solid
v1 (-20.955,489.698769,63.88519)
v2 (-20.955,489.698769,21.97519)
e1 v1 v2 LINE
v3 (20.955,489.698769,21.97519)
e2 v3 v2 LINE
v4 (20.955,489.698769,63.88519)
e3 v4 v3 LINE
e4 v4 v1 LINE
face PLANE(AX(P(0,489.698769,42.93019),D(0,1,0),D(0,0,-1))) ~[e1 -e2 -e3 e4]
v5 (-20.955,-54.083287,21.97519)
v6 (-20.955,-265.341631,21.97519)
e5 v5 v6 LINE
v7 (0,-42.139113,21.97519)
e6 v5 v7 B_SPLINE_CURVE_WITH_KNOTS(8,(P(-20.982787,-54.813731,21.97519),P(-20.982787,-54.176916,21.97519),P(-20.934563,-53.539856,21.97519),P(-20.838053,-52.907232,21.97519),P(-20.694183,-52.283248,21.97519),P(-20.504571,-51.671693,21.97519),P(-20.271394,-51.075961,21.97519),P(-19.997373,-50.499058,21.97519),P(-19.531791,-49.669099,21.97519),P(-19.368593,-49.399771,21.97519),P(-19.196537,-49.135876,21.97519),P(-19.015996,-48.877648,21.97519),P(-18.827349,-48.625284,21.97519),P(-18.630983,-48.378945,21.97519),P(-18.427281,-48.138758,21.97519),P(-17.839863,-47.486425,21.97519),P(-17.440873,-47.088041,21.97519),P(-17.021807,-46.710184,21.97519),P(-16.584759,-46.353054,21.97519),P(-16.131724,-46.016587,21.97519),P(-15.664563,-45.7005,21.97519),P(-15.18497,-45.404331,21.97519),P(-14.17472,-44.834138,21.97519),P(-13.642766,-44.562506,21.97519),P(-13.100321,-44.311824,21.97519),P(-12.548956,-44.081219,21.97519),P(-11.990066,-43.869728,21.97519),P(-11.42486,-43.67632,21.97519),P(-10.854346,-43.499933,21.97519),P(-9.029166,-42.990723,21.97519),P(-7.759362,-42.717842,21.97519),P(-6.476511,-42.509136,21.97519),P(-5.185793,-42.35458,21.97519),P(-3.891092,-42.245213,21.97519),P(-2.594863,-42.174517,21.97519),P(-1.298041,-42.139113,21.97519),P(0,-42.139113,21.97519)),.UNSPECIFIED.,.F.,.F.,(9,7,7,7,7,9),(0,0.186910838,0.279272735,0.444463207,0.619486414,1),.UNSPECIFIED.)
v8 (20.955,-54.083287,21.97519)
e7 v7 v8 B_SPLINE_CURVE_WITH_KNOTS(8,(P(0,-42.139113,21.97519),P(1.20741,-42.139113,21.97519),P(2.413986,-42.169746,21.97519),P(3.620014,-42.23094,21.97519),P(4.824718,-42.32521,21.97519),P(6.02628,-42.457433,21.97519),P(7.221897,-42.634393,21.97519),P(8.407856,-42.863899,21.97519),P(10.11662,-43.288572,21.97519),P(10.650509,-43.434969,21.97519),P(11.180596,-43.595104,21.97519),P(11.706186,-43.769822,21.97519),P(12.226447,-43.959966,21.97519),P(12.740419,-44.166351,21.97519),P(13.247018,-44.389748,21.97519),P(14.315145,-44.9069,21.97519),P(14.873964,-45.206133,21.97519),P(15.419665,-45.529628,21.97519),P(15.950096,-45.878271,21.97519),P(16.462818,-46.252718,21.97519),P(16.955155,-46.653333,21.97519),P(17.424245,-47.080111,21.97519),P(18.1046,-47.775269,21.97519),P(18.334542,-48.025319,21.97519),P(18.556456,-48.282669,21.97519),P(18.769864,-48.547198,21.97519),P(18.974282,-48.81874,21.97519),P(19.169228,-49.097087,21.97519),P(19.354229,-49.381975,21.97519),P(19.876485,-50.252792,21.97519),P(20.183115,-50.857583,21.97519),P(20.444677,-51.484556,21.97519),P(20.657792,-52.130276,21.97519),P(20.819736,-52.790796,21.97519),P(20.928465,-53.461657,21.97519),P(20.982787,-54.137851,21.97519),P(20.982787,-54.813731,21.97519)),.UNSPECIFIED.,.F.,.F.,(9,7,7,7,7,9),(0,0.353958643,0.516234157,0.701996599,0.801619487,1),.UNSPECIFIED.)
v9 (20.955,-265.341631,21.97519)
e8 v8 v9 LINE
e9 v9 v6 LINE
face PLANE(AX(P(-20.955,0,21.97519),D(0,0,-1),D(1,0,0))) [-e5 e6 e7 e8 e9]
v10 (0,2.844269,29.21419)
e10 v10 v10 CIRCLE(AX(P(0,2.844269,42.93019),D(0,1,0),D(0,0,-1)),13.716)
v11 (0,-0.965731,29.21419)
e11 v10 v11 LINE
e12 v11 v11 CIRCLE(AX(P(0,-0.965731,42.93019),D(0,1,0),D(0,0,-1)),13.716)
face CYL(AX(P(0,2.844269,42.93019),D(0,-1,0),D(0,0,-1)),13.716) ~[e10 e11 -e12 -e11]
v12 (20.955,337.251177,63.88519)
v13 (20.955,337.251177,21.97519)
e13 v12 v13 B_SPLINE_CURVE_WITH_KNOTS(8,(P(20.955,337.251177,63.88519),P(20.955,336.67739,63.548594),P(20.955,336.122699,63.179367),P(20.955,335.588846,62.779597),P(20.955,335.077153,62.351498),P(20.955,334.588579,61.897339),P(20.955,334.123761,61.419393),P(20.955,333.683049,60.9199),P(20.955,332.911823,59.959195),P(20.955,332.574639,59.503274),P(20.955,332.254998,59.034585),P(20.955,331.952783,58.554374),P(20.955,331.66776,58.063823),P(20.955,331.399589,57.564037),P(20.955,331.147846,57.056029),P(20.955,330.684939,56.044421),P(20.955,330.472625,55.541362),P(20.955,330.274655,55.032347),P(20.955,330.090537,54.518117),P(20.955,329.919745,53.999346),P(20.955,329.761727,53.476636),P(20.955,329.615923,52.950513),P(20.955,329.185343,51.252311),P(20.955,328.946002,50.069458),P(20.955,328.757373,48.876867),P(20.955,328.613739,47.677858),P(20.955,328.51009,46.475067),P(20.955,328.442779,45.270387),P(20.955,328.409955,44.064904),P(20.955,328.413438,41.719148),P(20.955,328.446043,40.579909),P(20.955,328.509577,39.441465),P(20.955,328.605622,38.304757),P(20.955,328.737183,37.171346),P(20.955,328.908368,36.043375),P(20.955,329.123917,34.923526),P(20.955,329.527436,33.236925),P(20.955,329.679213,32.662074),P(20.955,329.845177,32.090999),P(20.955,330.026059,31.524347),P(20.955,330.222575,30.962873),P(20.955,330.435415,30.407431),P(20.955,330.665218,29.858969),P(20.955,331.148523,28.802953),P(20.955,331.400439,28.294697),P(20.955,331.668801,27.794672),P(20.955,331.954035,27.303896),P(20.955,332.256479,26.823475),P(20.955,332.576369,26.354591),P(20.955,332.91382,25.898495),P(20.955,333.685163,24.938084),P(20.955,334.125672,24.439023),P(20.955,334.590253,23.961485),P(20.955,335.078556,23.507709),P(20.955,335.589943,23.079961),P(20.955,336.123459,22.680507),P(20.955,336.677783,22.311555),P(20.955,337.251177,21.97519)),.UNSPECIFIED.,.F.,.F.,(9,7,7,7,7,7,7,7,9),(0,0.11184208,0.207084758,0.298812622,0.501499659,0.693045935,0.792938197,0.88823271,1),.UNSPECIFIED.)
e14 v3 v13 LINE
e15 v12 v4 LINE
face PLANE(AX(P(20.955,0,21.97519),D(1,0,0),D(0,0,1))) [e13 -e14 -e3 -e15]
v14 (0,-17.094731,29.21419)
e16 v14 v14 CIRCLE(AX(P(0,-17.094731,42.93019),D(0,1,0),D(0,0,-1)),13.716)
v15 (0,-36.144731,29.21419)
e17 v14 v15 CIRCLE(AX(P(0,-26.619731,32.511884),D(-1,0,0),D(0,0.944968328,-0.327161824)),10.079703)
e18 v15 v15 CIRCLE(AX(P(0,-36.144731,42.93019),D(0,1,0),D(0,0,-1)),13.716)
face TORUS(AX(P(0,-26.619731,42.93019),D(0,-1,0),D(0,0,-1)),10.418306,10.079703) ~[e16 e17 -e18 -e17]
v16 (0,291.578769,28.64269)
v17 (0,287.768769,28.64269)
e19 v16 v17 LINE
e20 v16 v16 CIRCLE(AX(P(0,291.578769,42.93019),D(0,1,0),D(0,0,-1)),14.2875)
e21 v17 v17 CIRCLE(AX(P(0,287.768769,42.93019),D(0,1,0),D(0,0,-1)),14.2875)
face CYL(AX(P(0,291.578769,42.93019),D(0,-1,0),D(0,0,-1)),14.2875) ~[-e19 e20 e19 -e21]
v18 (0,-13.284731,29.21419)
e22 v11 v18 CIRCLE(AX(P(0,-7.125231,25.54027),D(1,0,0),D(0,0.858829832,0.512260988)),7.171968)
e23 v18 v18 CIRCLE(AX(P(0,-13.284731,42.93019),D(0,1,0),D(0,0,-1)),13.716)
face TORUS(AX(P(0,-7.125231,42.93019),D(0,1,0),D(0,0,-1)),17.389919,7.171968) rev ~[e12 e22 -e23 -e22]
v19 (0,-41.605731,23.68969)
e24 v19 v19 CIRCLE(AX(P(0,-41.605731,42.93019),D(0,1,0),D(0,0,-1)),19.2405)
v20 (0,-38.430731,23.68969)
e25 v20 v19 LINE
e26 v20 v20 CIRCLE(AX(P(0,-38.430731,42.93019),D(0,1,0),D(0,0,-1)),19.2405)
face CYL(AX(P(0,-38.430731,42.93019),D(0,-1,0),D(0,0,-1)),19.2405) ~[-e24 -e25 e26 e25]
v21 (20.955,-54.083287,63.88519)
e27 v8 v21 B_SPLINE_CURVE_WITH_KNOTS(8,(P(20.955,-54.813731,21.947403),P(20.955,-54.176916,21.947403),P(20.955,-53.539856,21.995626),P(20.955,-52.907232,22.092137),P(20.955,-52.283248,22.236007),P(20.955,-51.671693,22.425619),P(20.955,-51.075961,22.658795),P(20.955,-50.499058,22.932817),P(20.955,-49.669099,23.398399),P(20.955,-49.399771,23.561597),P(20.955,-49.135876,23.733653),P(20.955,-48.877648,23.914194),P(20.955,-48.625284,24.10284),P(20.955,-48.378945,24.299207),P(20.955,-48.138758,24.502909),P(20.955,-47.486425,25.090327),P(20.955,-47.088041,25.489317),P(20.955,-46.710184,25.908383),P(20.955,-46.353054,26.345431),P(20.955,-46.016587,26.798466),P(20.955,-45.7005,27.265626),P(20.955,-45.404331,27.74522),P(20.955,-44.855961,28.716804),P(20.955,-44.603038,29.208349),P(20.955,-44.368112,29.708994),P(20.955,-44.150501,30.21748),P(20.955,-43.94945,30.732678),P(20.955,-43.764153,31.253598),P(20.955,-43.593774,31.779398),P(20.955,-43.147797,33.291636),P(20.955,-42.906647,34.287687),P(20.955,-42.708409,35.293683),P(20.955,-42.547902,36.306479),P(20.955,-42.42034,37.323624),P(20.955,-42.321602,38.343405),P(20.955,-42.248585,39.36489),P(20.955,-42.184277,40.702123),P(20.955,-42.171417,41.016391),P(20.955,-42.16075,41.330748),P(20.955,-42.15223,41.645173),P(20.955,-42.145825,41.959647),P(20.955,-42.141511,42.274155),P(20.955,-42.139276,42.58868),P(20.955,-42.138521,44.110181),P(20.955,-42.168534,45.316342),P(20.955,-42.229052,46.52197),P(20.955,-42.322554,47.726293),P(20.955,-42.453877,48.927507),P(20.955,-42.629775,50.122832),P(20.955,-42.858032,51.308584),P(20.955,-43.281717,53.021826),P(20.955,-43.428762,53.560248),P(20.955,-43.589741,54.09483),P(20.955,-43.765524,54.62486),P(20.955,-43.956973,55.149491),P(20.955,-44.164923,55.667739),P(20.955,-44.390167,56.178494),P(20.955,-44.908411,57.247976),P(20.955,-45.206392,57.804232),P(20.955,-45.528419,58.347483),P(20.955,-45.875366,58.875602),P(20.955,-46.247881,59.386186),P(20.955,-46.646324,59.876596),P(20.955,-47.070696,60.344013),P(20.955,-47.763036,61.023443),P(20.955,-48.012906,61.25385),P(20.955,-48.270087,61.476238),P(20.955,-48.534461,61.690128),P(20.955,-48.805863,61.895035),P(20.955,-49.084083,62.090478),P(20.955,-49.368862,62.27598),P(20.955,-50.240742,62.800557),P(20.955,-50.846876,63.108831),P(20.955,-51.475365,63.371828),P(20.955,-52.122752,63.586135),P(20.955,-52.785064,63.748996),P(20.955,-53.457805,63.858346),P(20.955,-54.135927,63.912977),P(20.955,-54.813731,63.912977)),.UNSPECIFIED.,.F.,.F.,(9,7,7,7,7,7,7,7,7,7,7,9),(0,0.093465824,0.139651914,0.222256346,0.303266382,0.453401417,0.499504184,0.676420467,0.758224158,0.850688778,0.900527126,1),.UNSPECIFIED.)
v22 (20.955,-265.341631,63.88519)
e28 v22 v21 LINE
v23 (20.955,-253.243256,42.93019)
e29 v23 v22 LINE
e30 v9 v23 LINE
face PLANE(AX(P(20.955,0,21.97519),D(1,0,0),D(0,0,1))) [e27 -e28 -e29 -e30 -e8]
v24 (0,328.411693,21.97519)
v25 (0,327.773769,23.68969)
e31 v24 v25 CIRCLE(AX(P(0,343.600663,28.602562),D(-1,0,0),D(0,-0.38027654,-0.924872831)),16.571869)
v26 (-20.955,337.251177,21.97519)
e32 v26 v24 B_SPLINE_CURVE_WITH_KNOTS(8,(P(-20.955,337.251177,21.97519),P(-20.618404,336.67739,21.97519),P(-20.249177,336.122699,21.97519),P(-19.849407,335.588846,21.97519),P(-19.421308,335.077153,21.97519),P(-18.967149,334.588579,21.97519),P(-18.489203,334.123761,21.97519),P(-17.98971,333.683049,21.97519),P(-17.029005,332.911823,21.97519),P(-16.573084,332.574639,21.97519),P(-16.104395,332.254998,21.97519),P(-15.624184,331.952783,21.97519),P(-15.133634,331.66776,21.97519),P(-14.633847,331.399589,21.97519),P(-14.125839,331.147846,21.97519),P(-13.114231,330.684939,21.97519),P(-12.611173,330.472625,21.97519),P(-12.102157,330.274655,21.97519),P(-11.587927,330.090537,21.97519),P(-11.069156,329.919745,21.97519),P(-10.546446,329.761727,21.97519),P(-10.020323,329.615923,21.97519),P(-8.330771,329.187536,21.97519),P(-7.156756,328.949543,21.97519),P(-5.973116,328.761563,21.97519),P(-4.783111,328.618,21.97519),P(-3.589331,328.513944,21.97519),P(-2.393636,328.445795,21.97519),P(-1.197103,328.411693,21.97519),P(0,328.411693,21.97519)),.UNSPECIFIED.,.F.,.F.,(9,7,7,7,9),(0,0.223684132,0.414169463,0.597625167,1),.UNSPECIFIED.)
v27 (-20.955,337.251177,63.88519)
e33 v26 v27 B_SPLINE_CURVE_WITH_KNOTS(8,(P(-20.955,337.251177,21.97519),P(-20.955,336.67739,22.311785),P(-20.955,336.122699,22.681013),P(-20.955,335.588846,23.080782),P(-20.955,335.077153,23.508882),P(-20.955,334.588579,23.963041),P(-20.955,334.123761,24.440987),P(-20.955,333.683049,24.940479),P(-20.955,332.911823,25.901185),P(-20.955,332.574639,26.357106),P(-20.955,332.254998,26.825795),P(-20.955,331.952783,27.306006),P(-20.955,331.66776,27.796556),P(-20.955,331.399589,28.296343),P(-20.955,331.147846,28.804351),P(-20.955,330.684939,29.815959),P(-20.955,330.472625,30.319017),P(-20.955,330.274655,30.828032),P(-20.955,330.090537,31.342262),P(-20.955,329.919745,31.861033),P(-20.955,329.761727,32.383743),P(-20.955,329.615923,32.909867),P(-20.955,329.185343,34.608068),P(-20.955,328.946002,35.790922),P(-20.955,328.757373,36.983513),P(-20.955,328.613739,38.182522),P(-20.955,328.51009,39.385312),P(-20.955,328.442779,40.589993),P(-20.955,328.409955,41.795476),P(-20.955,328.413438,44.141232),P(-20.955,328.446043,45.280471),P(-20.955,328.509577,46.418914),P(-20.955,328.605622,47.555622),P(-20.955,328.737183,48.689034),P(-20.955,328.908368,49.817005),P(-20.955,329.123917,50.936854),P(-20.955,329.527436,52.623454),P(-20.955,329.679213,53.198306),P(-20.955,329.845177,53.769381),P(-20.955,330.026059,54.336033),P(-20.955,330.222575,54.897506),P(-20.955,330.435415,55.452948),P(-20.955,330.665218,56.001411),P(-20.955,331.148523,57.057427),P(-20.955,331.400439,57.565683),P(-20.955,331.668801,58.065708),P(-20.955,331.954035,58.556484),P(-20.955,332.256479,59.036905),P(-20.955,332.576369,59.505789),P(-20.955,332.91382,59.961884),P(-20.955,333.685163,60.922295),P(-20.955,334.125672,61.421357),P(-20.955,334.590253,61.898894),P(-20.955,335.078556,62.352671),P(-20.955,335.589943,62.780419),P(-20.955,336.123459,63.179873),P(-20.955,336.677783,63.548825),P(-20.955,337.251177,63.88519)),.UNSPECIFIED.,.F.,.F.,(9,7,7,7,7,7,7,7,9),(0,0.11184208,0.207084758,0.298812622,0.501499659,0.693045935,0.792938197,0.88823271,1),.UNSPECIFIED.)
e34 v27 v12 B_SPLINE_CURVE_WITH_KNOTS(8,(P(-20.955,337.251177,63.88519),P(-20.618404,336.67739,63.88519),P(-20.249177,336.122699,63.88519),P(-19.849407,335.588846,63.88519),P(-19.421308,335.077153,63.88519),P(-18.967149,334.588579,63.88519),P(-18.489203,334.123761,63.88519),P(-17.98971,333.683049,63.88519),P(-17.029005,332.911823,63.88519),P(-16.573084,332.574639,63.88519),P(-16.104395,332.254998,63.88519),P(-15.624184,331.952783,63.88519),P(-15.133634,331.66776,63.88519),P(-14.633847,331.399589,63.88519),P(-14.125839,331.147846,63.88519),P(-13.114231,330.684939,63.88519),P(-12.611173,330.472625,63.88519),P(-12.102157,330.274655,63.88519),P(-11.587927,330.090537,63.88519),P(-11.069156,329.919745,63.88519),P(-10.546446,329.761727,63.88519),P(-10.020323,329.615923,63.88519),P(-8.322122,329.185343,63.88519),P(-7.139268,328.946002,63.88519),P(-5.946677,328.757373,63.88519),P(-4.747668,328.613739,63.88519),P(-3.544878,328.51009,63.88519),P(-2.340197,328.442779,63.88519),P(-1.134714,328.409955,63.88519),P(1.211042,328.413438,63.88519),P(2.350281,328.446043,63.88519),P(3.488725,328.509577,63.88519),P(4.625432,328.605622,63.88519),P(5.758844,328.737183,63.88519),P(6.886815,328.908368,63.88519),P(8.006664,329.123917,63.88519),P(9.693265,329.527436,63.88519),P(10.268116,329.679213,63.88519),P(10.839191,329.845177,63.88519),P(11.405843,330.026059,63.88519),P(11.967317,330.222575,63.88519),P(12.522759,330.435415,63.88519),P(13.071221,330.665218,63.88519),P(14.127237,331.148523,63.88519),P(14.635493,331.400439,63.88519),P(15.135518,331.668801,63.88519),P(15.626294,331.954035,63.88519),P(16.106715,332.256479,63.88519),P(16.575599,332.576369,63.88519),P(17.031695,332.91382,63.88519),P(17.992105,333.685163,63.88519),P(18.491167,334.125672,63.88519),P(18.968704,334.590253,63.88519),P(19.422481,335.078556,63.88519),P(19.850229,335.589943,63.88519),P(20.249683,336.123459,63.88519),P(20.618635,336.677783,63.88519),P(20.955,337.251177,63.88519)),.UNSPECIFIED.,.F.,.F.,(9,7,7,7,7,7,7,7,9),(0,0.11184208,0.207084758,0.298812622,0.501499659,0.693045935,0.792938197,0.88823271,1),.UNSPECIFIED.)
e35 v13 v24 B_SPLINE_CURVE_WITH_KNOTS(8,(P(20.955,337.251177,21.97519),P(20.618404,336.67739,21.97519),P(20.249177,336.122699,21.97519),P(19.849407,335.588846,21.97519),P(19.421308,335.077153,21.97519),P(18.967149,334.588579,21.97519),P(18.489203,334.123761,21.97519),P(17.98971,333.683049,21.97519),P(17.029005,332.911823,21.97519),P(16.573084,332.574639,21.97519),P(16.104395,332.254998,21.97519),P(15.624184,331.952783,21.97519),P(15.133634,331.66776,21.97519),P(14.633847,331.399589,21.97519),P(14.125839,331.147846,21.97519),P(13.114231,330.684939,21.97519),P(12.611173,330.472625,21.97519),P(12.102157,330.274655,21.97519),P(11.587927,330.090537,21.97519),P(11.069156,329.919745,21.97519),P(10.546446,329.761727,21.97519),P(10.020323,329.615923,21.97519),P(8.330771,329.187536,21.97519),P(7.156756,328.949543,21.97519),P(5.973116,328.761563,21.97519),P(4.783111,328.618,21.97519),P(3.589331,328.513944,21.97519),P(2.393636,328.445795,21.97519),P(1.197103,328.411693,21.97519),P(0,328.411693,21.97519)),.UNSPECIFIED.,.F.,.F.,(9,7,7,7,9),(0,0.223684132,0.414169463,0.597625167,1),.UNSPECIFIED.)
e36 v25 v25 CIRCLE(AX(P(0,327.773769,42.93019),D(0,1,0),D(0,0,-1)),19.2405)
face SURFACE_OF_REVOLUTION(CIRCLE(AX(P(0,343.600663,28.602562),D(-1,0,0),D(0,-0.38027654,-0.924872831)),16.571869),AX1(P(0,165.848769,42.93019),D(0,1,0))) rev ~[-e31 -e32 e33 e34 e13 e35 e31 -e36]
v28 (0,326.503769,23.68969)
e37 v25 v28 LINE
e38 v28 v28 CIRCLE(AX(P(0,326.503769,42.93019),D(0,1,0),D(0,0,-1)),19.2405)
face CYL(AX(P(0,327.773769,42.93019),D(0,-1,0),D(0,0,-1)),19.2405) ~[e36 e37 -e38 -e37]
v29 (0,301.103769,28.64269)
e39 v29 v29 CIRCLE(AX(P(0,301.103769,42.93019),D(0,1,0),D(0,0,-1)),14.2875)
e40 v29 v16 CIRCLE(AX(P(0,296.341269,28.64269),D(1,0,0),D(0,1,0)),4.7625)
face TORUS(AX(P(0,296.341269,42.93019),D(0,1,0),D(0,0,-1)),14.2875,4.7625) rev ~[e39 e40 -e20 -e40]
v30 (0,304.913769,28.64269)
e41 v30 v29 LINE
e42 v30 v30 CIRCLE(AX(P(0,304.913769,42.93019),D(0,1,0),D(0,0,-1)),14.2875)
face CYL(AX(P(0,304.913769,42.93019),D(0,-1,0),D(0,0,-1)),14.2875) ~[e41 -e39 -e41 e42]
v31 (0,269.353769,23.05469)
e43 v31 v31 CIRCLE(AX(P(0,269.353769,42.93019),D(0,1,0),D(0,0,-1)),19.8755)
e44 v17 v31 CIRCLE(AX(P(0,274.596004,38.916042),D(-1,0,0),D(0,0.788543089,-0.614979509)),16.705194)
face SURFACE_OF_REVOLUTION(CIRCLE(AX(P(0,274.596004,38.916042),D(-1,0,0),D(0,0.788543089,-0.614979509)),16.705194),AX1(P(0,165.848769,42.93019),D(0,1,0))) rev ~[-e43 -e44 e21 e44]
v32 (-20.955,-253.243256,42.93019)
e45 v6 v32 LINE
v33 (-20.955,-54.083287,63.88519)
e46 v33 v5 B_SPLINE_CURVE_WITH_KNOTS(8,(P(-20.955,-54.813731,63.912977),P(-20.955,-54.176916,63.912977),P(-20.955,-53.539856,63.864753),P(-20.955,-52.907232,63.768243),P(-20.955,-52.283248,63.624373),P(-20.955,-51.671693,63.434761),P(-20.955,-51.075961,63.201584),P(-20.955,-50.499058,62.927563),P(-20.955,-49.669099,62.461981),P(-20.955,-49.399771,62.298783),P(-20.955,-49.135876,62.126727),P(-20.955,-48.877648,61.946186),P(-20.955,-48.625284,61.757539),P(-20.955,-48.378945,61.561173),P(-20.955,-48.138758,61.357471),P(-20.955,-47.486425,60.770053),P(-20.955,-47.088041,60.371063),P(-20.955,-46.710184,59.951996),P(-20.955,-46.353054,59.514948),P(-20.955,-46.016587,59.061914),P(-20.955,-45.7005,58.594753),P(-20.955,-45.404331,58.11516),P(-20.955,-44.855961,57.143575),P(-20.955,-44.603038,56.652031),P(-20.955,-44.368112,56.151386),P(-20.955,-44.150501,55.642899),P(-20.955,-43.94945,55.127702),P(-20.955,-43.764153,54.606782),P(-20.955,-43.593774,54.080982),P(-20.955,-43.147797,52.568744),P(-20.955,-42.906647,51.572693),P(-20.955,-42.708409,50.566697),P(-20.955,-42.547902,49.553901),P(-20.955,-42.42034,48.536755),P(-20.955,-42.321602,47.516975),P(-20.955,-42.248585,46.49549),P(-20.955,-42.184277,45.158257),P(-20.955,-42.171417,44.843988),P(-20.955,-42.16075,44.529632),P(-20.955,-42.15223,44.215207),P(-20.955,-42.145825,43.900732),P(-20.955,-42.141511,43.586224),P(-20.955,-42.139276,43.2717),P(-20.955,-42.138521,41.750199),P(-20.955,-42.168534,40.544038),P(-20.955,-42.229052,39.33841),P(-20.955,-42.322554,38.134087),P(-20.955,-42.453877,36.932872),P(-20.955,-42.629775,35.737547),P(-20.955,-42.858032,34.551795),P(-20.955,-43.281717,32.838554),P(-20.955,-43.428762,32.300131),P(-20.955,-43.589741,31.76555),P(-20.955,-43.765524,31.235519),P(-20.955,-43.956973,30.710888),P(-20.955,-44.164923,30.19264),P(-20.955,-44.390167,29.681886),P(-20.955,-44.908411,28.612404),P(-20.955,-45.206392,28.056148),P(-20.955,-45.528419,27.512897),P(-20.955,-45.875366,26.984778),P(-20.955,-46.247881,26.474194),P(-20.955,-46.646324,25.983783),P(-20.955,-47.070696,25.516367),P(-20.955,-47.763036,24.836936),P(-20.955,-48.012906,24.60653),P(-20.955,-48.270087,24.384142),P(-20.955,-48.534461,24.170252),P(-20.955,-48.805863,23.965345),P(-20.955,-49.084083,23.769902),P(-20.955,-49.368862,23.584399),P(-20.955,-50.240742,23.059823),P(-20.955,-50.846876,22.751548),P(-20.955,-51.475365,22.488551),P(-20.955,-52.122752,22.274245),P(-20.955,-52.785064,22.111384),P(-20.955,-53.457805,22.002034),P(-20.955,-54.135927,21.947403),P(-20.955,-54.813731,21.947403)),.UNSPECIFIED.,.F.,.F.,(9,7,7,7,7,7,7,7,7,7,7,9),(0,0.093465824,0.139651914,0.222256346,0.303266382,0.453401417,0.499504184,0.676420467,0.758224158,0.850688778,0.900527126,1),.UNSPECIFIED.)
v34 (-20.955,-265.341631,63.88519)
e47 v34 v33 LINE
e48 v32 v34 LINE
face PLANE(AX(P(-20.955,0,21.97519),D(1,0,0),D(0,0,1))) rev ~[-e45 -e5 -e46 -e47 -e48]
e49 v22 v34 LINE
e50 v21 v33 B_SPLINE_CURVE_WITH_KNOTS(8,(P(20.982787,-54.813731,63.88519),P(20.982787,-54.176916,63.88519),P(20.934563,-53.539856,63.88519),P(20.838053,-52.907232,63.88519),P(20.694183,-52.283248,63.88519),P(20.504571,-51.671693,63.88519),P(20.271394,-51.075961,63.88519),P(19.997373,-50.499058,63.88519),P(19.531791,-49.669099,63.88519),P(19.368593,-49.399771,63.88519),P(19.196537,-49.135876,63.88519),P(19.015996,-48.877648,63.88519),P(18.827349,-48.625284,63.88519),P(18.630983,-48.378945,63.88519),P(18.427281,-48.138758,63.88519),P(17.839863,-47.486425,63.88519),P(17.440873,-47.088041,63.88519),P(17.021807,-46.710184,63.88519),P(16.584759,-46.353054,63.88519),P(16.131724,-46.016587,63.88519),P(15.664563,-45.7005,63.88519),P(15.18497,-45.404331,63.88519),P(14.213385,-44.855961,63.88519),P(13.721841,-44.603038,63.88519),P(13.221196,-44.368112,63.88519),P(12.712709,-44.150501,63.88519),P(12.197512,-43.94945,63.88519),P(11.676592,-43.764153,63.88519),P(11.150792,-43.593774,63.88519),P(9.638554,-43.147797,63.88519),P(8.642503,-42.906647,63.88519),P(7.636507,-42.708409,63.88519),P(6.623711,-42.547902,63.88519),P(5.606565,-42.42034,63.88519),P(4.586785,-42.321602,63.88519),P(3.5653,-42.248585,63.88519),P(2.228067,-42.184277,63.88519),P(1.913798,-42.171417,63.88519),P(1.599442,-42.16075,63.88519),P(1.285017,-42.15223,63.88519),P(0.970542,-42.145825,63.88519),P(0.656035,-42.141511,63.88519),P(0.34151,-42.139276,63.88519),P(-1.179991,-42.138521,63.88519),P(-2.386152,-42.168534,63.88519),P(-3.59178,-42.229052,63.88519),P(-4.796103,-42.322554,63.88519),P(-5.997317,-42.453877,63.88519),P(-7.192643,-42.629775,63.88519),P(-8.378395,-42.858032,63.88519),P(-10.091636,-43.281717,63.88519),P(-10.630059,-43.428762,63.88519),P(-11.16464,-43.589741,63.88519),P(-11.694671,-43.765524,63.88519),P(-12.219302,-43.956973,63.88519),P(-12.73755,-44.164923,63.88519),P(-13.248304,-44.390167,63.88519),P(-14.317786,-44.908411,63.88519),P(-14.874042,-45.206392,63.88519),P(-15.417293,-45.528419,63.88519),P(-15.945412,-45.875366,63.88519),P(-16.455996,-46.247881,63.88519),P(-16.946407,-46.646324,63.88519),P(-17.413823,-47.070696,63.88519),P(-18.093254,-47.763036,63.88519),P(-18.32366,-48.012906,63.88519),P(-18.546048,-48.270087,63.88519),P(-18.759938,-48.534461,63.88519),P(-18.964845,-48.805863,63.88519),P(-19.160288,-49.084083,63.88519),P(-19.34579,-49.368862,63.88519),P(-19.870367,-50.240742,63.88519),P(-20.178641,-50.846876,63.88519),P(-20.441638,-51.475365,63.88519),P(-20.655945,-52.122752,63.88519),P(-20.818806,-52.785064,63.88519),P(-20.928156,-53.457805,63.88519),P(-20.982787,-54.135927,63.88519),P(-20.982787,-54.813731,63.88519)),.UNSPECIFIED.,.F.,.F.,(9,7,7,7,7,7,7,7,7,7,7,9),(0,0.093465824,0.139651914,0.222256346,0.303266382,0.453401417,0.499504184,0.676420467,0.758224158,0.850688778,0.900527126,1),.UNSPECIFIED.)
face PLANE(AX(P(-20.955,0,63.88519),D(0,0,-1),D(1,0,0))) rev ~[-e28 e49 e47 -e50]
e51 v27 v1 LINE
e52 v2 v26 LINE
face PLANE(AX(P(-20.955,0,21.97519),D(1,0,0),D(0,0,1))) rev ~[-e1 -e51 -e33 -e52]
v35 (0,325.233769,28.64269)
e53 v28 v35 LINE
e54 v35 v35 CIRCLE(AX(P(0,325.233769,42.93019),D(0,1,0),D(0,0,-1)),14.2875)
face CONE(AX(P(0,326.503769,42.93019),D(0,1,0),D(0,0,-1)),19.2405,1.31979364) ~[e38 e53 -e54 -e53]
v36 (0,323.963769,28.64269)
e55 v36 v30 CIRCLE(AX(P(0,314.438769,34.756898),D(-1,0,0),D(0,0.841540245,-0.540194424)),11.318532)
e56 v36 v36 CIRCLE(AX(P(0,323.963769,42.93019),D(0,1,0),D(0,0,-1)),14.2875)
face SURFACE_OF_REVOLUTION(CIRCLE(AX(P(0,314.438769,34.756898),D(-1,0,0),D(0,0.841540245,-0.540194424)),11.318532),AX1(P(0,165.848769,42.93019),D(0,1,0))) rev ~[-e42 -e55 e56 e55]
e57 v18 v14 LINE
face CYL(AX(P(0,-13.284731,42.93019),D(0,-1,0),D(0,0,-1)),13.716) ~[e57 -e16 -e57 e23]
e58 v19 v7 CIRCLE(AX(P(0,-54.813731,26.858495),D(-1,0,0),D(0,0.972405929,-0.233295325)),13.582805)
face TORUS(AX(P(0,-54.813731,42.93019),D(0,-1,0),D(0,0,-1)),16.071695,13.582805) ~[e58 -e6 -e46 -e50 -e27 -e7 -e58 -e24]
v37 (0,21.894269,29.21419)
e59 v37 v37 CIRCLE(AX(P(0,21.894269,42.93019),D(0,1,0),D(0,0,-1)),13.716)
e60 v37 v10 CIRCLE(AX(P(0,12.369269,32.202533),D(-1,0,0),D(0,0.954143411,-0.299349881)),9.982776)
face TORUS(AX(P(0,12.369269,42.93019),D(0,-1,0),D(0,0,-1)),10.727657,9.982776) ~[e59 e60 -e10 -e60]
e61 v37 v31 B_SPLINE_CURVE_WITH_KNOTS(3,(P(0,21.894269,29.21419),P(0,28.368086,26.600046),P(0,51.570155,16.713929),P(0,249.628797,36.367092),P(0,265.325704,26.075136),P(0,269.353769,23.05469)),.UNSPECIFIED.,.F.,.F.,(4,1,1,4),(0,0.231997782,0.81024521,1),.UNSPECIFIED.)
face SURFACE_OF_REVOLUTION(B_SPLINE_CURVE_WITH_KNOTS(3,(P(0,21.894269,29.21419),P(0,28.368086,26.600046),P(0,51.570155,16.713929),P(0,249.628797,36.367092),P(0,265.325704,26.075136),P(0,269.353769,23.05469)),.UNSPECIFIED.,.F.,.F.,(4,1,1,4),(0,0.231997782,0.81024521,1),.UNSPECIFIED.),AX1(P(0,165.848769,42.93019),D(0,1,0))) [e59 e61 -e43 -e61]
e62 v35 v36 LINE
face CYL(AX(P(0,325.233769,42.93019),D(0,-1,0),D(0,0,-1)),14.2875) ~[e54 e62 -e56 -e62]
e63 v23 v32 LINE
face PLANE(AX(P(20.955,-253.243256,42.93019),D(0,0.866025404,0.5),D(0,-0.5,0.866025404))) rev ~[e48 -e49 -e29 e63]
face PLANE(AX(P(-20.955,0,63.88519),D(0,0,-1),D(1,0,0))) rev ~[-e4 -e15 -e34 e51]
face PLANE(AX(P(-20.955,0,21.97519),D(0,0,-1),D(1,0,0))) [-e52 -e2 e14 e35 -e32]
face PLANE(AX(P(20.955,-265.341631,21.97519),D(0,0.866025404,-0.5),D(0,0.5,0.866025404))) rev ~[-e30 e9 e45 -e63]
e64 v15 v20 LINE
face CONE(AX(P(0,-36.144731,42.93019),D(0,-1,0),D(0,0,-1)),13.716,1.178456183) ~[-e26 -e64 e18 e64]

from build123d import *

# Parameters (mm, degrees)
F1_W     = 41.91
F1_H     = 41.91
F2_DEPTH = 329.31024
F3_DEPTH = 569.34836
F6_DEPTH = 43.18


with BuildPart() as f2:
    # F1 (on Front) → F2 (new body)
    with BuildSketch(Plane.XZ):
        with Locations((0, 42.9301898345)):
            Rectangle(F1_W, F1_H)
    extrude(amount=F2_DEPTH)

    # F3 (add): a face of the model
    f3_faces = [f2.faces().sort_by_distance(p)[0] for p in [
        (0, 0, 42.9301898345),
    ]]
    extrude(f3_faces, amount=F3_DEPTH)

    # F0 (on Right) → F4 (revolve, cut)
    with BuildSketch(Plane.YZ):
        with BuildLine():
            Line((-54.8137305173, 13.2756898345), (-278.6512305173, 13.2756898345))
            Line((-278.6512305173, 13.2756898345), (-278.6512305173, 42.9301898345))
            Line((-278.6512305173, 42.9301898345), (-405.6512305173, 42.9301898345))
            Line((-405.6512305173, 42.9301898345), (-405.6512305173, -33.8413101655))
            Line((-405.6512305173, -33.8413101655), (-278.6512305173, -33.8413101655))
            Line((-278.6512305173, -33.8413101655), (508.7487694827, -33.8413101655))
            Line((508.7487694827, -33.8413101655), (642.0987694827, -33.8413101655))
            Line((642.0987694827, -33.8413101655), (642.0987694827, 42.9301898345))
            Line((642.0987694827, 42.9301898345), (489.6987694827, 42.9301898345))
            Line((489.6987694827, 42.9301898345), (489.6987694827, 13.2756898345))
            Line((489.6987694827, 13.2756898345), (337.2987694827, 13.2756898345))
            ThreePointArc((337.2987694827, 13.2756898345), (331.3722676132, 17.4180539782), (327.7737694827, 23.6896898345))
            Line((327.7737694827, 23.6896898345), (326.5037694827, 23.6896898345))
            Line((326.5037694827, 23.6896898345), (325.2337694827, 28.6426898345))
            Line((325.2337694827, 28.6426898345), (323.9637694827, 28.6426898345))
            ThreePointArc((323.9637694827, 28.6426898345), (314.4387694827, 23.438365818), (304.9137694827, 28.6426898345))
            Line((304.9137694827, 28.6426898345), (301.1037694827, 28.6426898345))
            ThreePointArc((301.1037694827, 28.6426898345), (296.3412694827, 33.4051898345), (291.5787694827, 28.6426898345))
            Line((291.5787694827, 28.6426898345), (287.7687694827, 28.6426898345))
            ThreePointArc((287.7687694827, 28.6426898345), (279.4467530499, 22.9306189881), (269.3537694827, 23.0546898345))
            add(Edge.make_bspline(
                [(21.8942694827, 29.2141898345), (28.3680861287, 26.6000460104), (51.5701547121, 16.7139288381), (249.628797136, 36.3670921628), (265.3257044678, 26.0751364496), (269.3537694827, 23.0546898345)],
                knots=[0, 0, 0, 0, 0.2319977817, 0.8102452098, 1, 1, 1, 1], degree=3))
            ThreePointArc((21.8942694827, 29.2141898345), (12.3692694827, 22.2197566023), (2.8442694827, 29.2141898345))
            Line((2.8442694827, 29.2141898345), (-0.9657305173, 29.2141898345))
            ThreePointArc((-0.9657305173, 29.2141898345), (-7.1252305173, 32.7122383807), (-13.2847305173, 29.2141898345))
            Line((-13.2847305173, 29.2141898345), (-17.0947305173, 29.2141898345))
            ThreePointArc((-17.0947305173, 29.2141898345), (-26.6197305173, 22.4321809186), (-36.1447305173, 29.2141898345))
            Line((-36.1447305173, 29.2141898345), (-38.4307305173, 23.6896898345))
            Line((-38.4307305173, 23.6896898345), (-41.6057305173, 23.6896898345))
            ThreePointArc((-41.6057305173, 23.6896898345), (-46.4038752866, 16.1923368591), (-54.8137305173, 13.2756898345))
        make_face()
    revolve(axis=Axis((0, 165.8487694827, 42.9301898345), (0, 1, 0)), mode=Mode.SUBTRACT)

    # F5 (on face) → F6 (cut)
    with BuildSketch(Plane.YZ.offset(20.955)):
        Polygon((-265.3416305173, 63.8851898345), (-278.6512305173, 63.8851898345), (-278.6512305173, 21.9751898345), (-265.3416305173, 21.9751898345), (-253.2432556264, 42.9301898345), align=None)
    extrude(amount=-F6_DEPTH, mode=Mode.SUBTRACT)


solid = f2.part
